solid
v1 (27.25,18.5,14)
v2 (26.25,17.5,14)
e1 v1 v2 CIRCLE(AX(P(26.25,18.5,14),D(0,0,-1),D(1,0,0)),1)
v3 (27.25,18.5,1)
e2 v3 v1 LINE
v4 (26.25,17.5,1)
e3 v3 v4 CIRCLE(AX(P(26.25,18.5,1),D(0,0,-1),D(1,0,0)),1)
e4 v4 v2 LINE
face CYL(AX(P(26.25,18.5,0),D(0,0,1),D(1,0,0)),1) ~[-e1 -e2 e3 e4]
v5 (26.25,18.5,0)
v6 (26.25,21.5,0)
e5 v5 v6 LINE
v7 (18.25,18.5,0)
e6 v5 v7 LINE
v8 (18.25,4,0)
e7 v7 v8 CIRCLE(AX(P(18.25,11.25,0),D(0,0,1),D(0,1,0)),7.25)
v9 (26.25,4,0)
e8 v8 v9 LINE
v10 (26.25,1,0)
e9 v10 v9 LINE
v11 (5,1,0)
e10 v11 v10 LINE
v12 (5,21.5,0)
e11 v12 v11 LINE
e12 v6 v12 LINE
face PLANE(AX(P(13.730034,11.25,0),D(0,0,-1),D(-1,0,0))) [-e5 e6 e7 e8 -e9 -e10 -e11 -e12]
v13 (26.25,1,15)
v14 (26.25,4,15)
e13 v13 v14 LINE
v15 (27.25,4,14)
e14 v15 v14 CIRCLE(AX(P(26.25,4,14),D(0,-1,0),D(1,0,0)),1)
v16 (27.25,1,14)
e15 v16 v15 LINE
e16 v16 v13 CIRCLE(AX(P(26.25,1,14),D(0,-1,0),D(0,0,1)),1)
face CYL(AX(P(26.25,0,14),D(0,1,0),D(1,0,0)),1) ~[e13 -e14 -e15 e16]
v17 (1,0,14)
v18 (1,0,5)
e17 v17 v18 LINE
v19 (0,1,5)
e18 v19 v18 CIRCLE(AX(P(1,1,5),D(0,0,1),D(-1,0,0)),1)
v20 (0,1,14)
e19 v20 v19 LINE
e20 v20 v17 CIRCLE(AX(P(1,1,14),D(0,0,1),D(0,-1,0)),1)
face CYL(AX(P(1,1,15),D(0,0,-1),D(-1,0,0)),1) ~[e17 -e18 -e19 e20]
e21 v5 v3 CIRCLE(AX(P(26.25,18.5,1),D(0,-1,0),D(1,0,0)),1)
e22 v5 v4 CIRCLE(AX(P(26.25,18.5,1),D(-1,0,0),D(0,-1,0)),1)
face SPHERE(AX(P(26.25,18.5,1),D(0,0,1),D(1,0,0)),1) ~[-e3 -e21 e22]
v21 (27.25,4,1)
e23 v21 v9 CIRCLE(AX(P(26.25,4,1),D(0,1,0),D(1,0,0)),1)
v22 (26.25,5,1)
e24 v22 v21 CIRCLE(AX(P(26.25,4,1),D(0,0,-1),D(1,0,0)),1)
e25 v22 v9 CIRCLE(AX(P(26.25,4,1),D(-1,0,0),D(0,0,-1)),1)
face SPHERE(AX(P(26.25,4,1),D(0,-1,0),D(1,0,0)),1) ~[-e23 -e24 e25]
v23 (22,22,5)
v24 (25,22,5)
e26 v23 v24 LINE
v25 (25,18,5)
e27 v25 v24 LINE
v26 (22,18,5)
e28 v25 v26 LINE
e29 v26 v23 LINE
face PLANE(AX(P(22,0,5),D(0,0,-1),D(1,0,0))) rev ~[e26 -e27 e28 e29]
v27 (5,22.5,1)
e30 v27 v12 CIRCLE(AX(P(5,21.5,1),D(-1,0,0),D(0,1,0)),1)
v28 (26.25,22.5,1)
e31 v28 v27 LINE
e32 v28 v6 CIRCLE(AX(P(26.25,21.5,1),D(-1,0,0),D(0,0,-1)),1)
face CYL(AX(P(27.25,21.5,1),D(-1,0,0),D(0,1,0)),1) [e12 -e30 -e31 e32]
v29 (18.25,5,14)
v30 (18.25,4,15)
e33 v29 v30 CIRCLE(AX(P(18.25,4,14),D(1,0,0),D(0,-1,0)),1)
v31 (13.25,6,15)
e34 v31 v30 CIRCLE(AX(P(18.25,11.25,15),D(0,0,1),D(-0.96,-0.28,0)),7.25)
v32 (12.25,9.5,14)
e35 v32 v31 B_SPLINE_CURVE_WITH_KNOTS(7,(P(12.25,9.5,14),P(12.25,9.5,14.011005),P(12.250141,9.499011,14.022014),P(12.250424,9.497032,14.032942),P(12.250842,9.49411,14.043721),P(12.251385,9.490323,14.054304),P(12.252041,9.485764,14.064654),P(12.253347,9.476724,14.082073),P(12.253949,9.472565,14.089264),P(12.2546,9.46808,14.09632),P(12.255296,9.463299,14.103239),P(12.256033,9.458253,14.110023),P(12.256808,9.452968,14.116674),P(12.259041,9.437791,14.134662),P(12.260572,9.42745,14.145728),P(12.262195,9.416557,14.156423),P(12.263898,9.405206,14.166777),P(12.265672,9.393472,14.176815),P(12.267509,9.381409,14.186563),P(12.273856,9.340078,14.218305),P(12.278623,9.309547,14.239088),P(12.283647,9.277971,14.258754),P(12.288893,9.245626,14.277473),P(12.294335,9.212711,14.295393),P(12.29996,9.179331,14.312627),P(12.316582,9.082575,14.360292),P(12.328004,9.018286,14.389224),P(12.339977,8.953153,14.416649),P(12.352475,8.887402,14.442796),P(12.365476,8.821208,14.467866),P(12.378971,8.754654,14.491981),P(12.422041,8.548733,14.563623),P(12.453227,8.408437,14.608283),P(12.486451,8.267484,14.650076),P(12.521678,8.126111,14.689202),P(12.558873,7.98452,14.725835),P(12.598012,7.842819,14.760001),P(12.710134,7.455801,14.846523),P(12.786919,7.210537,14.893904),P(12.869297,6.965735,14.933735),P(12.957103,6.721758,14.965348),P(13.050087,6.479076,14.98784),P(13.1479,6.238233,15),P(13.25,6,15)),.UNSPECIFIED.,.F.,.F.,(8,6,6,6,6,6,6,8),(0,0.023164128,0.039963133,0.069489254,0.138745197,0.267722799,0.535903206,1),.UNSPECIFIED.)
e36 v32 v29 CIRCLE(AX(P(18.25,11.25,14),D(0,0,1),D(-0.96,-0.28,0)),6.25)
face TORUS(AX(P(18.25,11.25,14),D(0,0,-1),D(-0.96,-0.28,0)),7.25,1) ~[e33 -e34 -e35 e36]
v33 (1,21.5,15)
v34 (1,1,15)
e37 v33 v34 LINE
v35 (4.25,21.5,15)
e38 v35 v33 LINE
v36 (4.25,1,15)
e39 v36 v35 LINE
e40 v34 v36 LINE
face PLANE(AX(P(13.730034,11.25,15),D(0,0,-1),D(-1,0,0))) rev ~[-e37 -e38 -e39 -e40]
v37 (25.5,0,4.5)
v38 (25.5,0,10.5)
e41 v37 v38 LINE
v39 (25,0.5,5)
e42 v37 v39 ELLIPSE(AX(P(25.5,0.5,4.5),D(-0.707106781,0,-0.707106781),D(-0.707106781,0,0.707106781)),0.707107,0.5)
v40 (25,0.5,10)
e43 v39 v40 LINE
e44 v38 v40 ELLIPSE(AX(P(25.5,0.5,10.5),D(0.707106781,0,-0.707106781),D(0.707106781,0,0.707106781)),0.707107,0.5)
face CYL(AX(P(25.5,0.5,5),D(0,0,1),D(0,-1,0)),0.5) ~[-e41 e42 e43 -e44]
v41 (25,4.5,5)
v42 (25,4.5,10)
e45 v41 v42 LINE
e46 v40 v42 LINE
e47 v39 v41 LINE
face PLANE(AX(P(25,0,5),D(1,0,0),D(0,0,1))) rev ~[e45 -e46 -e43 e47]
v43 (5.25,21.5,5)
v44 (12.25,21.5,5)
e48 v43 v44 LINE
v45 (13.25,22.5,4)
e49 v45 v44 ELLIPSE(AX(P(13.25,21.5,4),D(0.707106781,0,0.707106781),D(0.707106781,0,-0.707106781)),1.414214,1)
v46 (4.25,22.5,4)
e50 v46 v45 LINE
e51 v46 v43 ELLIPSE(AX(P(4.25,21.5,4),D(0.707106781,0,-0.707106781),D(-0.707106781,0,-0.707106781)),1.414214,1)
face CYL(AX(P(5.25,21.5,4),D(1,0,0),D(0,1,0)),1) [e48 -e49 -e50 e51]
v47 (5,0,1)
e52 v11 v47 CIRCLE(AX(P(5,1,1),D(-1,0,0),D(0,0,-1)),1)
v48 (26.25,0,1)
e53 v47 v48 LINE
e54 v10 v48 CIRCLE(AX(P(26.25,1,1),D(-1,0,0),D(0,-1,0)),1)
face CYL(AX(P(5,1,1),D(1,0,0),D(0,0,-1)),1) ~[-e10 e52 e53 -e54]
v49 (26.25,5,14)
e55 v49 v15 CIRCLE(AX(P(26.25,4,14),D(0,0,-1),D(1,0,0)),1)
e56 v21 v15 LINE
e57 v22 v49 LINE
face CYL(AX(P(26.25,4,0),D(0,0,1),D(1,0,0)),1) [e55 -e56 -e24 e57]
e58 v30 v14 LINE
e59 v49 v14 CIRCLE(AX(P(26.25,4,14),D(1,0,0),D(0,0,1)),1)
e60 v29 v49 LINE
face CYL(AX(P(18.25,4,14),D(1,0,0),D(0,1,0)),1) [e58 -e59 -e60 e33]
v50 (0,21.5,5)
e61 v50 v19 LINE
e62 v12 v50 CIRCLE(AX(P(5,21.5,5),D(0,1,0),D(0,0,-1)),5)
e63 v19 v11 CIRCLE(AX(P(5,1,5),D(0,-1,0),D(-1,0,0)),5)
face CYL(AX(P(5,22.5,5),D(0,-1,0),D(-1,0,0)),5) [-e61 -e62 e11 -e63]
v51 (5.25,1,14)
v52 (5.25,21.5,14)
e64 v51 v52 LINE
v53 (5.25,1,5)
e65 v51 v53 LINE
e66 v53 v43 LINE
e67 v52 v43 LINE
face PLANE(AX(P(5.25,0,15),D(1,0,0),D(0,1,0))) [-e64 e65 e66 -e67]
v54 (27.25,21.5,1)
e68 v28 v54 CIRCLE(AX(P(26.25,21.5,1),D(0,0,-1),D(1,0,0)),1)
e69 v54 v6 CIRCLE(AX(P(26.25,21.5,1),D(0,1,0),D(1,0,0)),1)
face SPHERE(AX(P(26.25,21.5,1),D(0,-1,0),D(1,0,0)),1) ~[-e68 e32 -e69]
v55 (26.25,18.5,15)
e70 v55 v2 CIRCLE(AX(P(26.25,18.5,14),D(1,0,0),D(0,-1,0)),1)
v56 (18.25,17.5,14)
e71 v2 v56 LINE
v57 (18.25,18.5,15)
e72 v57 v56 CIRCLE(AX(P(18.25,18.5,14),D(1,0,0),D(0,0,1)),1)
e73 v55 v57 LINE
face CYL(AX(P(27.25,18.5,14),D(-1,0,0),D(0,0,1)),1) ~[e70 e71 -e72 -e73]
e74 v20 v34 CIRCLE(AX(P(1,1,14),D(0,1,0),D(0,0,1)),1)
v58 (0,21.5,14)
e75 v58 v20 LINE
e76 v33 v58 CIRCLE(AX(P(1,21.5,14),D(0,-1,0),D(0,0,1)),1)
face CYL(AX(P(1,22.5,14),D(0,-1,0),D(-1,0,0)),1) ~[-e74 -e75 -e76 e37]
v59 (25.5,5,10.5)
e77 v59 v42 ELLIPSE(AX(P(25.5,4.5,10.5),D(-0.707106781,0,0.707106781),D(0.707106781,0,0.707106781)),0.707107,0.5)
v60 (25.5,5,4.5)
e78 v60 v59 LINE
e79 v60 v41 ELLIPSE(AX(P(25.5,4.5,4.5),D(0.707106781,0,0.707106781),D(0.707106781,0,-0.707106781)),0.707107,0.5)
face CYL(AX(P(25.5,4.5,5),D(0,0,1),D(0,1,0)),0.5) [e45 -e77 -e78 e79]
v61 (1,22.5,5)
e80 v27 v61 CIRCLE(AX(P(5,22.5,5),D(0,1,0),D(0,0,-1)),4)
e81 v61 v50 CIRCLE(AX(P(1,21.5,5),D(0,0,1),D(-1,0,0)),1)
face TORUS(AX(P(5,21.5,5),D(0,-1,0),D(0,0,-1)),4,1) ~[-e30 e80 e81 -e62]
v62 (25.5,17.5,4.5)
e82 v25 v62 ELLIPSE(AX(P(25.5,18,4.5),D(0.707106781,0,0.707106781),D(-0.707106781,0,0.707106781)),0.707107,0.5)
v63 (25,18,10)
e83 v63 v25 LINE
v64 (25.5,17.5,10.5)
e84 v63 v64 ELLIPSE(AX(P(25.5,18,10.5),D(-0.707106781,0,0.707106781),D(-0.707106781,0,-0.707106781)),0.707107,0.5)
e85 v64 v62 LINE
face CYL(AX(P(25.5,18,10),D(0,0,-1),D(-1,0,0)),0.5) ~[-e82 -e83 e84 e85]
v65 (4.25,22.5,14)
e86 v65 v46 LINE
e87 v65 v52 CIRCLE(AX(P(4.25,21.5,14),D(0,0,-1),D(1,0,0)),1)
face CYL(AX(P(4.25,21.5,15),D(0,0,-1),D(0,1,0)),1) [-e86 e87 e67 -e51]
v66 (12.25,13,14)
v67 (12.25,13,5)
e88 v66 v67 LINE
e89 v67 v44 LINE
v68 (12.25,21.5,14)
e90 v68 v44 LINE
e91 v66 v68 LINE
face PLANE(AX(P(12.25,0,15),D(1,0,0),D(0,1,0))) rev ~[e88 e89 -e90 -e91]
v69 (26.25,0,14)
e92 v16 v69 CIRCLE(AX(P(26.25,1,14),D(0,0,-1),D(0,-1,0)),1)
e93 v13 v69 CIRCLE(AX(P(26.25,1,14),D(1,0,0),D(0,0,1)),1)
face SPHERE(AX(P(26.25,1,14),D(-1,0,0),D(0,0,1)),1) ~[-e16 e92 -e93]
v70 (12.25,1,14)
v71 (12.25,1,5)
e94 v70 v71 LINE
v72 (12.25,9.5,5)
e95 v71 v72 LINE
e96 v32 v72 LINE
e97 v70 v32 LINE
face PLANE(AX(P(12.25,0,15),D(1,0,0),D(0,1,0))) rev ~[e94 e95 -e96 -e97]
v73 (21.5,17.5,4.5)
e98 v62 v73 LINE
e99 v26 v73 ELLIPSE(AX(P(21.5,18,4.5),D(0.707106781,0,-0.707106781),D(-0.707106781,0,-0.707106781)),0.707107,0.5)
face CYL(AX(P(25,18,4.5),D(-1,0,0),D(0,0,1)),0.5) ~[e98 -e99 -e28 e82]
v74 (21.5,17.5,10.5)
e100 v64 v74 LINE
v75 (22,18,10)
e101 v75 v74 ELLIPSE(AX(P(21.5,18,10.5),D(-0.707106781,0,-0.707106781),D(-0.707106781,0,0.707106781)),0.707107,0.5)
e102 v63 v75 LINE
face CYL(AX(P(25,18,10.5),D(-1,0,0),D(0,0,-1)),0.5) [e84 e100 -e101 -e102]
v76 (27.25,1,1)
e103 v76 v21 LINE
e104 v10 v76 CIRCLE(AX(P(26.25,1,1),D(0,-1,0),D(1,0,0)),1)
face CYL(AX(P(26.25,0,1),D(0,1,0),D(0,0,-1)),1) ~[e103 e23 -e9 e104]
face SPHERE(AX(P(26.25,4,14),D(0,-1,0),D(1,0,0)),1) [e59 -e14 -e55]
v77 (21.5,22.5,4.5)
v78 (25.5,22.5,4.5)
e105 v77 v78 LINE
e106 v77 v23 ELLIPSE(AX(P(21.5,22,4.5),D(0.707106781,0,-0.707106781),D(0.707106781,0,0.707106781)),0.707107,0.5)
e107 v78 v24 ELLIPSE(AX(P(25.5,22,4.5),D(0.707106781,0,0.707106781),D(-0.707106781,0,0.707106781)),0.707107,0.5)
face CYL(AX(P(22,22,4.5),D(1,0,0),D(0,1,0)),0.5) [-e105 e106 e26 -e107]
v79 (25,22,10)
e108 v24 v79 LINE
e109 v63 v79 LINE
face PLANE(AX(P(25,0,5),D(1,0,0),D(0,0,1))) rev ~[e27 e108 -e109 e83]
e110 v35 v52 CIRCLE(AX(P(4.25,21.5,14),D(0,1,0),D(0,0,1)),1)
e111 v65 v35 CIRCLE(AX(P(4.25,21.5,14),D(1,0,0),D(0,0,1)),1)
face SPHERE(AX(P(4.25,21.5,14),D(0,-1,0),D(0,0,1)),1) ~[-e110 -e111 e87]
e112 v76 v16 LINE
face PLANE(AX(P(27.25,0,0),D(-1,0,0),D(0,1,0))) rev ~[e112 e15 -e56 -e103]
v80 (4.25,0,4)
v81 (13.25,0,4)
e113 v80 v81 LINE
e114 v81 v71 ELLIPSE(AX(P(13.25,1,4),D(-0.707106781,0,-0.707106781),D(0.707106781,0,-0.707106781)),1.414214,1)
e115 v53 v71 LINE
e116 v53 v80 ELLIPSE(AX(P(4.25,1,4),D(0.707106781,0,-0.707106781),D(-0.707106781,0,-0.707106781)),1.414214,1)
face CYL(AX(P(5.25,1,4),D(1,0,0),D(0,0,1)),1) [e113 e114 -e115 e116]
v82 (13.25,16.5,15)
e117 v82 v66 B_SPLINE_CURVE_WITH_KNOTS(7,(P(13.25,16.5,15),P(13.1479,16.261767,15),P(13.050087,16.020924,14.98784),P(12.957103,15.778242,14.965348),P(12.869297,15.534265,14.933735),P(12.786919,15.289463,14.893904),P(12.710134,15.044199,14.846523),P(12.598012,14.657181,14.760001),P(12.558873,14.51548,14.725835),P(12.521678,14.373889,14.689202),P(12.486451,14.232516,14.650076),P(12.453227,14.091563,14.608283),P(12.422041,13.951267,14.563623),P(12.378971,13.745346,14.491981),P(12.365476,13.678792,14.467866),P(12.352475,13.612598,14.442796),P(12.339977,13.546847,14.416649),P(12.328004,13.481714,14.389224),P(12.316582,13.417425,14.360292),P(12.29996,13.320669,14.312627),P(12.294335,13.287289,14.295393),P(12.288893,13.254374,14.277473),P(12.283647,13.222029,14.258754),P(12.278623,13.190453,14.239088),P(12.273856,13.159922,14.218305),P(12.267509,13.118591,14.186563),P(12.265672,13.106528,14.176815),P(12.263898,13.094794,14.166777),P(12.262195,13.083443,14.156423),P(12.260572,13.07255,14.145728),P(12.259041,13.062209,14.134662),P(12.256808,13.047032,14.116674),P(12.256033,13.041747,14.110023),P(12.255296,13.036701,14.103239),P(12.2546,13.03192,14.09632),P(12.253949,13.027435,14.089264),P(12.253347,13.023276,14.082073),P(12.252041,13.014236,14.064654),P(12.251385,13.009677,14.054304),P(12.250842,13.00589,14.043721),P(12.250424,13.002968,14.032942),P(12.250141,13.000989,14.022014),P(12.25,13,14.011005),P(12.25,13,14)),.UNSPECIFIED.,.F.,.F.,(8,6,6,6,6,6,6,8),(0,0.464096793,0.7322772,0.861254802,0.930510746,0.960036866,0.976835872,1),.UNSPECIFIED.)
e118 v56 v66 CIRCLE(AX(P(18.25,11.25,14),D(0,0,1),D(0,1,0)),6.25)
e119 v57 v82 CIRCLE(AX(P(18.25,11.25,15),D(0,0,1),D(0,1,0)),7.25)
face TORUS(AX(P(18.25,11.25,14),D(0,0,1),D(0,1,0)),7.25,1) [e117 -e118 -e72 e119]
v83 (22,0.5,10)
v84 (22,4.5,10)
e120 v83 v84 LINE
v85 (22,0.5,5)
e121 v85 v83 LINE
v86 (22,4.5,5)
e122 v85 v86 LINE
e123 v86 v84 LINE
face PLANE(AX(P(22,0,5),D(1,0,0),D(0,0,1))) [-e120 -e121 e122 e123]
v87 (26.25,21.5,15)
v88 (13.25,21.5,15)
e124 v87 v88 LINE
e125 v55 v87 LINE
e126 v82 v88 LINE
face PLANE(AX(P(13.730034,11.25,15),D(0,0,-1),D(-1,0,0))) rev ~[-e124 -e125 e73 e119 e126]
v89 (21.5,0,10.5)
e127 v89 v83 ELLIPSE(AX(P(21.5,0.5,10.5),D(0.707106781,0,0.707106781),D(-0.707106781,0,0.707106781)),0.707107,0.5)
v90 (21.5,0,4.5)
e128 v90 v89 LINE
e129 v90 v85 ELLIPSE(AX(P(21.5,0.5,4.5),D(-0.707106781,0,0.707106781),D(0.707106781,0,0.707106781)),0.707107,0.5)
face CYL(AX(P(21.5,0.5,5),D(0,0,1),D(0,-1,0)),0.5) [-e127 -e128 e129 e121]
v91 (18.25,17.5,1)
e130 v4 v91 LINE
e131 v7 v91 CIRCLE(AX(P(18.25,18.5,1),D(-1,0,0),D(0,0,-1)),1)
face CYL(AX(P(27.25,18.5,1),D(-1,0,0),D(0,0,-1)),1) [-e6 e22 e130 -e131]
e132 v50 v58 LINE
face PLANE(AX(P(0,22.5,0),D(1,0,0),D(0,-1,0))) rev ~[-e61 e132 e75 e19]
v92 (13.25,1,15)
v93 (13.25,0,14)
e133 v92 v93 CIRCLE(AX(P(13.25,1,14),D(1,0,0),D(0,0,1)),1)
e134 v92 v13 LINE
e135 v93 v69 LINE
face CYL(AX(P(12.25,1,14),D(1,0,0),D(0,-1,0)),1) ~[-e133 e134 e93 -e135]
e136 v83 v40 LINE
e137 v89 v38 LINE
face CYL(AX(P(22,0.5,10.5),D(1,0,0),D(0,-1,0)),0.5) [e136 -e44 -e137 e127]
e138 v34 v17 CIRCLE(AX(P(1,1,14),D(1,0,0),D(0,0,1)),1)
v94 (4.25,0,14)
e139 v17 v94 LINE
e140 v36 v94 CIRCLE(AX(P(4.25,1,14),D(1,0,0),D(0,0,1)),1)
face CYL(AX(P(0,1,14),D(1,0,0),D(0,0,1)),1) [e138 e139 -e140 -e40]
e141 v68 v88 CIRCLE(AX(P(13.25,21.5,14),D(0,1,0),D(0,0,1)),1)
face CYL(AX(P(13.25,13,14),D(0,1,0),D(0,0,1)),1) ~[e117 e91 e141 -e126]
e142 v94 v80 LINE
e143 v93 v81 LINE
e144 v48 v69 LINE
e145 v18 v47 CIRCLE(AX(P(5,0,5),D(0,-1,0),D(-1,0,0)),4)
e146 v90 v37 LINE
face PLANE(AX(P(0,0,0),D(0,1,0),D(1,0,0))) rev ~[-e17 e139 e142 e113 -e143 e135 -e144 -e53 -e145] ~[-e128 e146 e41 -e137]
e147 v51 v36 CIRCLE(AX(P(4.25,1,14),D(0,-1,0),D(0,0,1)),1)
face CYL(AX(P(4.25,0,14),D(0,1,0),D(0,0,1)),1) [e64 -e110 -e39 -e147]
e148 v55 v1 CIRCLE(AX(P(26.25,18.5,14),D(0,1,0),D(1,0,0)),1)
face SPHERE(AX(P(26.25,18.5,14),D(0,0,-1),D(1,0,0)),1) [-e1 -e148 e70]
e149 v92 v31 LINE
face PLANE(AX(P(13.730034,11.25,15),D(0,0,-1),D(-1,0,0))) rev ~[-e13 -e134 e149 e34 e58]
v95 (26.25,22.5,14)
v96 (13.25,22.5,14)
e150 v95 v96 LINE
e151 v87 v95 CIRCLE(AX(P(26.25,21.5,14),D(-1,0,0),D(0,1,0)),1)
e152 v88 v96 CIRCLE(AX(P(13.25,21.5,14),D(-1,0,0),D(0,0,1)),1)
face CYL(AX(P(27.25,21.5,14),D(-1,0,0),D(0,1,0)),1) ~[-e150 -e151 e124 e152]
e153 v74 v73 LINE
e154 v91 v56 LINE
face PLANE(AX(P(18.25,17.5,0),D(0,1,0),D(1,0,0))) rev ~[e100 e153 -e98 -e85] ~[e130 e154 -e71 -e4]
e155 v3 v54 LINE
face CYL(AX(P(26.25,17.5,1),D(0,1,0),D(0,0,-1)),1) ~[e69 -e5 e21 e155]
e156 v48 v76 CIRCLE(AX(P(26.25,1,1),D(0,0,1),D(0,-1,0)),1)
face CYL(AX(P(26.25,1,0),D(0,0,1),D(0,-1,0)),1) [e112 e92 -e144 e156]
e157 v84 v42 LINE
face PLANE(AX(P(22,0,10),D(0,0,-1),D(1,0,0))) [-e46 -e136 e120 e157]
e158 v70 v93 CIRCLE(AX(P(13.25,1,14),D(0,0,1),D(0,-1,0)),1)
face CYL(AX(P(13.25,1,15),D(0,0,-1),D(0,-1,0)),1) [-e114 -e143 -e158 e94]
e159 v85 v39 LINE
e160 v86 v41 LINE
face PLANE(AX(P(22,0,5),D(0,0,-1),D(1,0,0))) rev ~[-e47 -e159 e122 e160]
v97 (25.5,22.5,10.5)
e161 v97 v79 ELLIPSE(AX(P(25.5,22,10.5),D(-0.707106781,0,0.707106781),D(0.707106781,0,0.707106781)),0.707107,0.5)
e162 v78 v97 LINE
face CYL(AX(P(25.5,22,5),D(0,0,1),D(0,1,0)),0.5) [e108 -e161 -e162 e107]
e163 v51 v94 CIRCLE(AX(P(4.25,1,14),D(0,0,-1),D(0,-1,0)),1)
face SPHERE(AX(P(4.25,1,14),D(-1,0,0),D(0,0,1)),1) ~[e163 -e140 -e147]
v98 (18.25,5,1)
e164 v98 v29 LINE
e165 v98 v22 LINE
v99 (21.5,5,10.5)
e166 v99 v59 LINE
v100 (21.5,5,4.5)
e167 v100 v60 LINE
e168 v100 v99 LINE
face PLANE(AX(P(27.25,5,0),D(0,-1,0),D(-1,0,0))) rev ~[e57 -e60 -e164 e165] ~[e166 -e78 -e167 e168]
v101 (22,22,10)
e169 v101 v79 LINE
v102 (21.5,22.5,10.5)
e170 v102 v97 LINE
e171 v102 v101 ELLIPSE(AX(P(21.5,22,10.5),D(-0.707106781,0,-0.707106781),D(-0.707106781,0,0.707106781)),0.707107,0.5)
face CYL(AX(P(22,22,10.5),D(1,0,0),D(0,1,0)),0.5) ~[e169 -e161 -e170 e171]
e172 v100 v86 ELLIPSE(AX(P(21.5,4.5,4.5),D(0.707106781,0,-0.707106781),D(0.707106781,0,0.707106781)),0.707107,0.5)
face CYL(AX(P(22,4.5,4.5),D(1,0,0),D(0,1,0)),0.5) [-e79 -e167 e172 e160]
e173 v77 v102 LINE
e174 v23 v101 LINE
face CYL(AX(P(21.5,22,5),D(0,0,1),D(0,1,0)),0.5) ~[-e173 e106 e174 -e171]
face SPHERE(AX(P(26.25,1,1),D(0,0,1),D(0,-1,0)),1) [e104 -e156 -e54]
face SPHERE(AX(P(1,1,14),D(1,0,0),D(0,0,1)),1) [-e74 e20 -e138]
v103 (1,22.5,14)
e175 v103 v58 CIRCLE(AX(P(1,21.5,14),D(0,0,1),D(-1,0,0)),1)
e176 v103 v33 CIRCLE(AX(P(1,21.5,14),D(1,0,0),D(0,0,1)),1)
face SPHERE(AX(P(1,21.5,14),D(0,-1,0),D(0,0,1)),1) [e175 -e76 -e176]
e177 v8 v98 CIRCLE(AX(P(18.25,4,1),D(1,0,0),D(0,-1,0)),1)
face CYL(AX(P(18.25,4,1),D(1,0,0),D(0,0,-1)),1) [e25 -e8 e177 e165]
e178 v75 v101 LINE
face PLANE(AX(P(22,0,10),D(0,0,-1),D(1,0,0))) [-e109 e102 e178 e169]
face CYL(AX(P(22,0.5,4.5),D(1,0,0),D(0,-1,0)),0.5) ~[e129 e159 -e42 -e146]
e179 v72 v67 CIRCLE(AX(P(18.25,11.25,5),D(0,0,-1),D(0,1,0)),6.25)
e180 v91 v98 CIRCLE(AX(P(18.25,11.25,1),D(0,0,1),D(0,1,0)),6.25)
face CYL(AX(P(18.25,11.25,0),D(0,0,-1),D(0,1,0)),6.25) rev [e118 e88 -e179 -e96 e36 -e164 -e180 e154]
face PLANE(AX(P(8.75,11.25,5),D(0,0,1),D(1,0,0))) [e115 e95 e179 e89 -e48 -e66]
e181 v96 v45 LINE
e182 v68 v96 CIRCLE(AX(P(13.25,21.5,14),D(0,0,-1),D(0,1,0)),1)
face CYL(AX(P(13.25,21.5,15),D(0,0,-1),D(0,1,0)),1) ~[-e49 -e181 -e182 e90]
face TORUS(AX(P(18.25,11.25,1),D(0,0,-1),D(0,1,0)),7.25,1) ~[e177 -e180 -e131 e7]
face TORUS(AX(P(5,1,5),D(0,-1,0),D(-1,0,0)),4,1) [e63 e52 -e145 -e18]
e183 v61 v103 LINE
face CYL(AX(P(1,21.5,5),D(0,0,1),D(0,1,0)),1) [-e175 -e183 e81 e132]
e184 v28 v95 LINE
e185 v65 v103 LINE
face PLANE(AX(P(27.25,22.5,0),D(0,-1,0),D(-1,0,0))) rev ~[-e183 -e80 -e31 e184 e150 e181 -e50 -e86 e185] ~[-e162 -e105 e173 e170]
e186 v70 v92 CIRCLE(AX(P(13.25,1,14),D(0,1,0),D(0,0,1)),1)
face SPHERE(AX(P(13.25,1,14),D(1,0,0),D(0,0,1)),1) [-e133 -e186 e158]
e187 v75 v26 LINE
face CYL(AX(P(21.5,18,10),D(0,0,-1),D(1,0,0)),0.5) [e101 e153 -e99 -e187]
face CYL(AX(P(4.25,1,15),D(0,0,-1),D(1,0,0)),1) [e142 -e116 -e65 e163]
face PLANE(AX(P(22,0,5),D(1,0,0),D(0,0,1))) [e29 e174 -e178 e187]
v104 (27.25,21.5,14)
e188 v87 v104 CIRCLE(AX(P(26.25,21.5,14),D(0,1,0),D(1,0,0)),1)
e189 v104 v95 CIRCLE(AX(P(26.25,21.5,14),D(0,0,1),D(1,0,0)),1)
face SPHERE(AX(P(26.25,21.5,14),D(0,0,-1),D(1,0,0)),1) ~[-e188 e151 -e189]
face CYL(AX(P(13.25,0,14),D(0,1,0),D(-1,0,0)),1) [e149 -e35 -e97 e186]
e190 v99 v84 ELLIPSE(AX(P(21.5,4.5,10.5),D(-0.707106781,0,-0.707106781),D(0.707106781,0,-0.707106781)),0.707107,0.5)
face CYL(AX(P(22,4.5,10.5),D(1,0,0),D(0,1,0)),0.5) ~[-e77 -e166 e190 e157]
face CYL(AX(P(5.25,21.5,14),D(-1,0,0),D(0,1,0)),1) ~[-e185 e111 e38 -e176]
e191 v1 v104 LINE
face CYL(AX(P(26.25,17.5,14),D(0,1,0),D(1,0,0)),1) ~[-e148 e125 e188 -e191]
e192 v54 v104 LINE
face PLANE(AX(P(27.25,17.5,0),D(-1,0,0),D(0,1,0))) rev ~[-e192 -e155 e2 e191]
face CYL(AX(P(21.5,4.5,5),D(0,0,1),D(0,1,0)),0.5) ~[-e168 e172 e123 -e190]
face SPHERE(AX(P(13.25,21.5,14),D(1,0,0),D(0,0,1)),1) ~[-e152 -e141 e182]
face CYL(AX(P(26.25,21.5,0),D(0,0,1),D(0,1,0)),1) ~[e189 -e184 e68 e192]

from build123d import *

# Parameters (mm, degrees)
PAD_DEPTH       = 15
SKETCH001_W     = 7
SKETCH001_H     = 22.5
POCKET_DEPTH    = 10
SKETCH002_W     = 3
SKETCH002_H     = 5
POCKET001_DEPTH = 15.001
FILLET_R        = 5
SKETCH003_W     = 3
SKETCH003_H     = 5
POCKET002_DEPTH = 22.501
FILLET001_R     = 1
FILLET002_R     = 0.5


with BuildPart() as part:
    # Sketch → Pad (new body)
    with BuildSketch(Plane.XY):
        with BuildLine():
            ThreePointArc((18.25, 17.5), (12, 11.25), (18.25, 5))
            Line((27.25, 5), (18.25, 5))
            Line((27.25, 0), (27.25, 5))
            Line((0, 0), (27.25, 0))
            Line((0, 22.5), (0, 0))
            Line((27.25, 22.5), (0, 22.5))
            Line((27.25, 17.5), (27.25, 22.5))
            Line((18.25, 17.5), (27.25, 17.5))
        make_face()
    extrude(amount=PAD_DEPTH)

    # Sketch001 (on Face10 of Pad) → Pocket (cut)
    with BuildSketch(Plane.XY.offset(15)):
        with Locations((8.75, 11.25)):
            Rectangle(SKETCH001_W, SKETCH001_H)
    extrude(amount=-POCKET_DEPTH, mode=Mode.SUBTRACT)

    # Sketch002 (on Face8 of Pocket) → Pocket001 (cut, through all)
    with BuildSketch(Plane.XY.offset(15)):
        with Locations((28.5, 7.5)):
            Rectangle(SKETCH002_W, SKETCH002_H)
    extrude(amount=-POCKET001_DEPTH, mode=Mode.SUBTRACT)

    # Fillet
    fillet_edges = [part.edges().sort_by_distance(p)[0] for p in [
        (0, 11.25, 0),
    ]]
    fillet(fillet_edges, radius=FILLET_R)

    # Sketch003 (on Face2 of Fillet) → Pocket002 (cut, through all)
    with BuildSketch(Plane.XZ):
        with Locations((23.5, 7.5)):
            Rectangle(SKETCH003_W, SKETCH003_H)
    extrude(amount=-POCKET002_DEPTH, mode=Mode.SUBTRACT)

    # Fillet001
    fillet001_edges = [part.edges().sort_by_distance(p)[0] for p in [
        (2.625, 0, 15),
        (0, 11.25, 15),
        (5.25, 11.25, 15),
        (2.625, 22.5, 15),
        (19.75, 0, 15),
        (27.25, 2.5, 15),
        (27.25, 0, 7.5),
        (16.125, 0, 0),
        (12.25, 4.75, 15),
        (27.25, 2.5, 0),
        (5.25, 0, 10),
        (12.25, 0, 10),
        (8.75, 0, 5),
        (27.25, 5, 7.5),
        (27.25, 17.5, 7.5),
        (27.25, 20, 0),
        (27.25, 22.5, 7.5),
        (27.25, 20, 15),
        (19.75, 22.5, 15),
        (12.25, 17.75, 15),
        (16.125, 22.5, 0),
        (12.25, 22.5, 10),
        (5.25, 22.5, 10),
        (0, 22.5, 10),
        (8.75, 22.5, 5),
        (1.464466, 22.5, 1.464466),
        (22.625, 5, 0),
        (12, 11.25, 0),
        (22.75, 17.5, 0),
        (22.625, 5, 15),
        (14.5, 6.25, 15),
        (14.5, 16.25, 15),
        (22.75, 17.5, 15),
    ]]
    fillet(fillet001_edges, radius=FILLET001_R)

    # Fillet002
    fillet002_edges = [part.edges().sort_by_distance(p)[0] for p in [
        (22, 0, 7.5),
        (23.5, 0, 10),
        (25, 0, 7.5),
        (23.5, 0, 5),
        (23.5, 17.5, 10),
        (22, 17.5, 7.5),
        (23.5, 17.5, 5),
        (25, 17.5, 7.5),
        (23.5, 5, 10),
        (22, 5, 7.5),
        (23.5, 5, 5),
        (25, 5, 7.5),
        (22, 22.5, 7.5),
        (23.5, 22.5, 10),
        (25, 22.5, 7.5),
        (23.5, 22.5, 5),
    ]]
    fillet(fillet002_edges, radius=FILLET002_R)


solid = part.part
